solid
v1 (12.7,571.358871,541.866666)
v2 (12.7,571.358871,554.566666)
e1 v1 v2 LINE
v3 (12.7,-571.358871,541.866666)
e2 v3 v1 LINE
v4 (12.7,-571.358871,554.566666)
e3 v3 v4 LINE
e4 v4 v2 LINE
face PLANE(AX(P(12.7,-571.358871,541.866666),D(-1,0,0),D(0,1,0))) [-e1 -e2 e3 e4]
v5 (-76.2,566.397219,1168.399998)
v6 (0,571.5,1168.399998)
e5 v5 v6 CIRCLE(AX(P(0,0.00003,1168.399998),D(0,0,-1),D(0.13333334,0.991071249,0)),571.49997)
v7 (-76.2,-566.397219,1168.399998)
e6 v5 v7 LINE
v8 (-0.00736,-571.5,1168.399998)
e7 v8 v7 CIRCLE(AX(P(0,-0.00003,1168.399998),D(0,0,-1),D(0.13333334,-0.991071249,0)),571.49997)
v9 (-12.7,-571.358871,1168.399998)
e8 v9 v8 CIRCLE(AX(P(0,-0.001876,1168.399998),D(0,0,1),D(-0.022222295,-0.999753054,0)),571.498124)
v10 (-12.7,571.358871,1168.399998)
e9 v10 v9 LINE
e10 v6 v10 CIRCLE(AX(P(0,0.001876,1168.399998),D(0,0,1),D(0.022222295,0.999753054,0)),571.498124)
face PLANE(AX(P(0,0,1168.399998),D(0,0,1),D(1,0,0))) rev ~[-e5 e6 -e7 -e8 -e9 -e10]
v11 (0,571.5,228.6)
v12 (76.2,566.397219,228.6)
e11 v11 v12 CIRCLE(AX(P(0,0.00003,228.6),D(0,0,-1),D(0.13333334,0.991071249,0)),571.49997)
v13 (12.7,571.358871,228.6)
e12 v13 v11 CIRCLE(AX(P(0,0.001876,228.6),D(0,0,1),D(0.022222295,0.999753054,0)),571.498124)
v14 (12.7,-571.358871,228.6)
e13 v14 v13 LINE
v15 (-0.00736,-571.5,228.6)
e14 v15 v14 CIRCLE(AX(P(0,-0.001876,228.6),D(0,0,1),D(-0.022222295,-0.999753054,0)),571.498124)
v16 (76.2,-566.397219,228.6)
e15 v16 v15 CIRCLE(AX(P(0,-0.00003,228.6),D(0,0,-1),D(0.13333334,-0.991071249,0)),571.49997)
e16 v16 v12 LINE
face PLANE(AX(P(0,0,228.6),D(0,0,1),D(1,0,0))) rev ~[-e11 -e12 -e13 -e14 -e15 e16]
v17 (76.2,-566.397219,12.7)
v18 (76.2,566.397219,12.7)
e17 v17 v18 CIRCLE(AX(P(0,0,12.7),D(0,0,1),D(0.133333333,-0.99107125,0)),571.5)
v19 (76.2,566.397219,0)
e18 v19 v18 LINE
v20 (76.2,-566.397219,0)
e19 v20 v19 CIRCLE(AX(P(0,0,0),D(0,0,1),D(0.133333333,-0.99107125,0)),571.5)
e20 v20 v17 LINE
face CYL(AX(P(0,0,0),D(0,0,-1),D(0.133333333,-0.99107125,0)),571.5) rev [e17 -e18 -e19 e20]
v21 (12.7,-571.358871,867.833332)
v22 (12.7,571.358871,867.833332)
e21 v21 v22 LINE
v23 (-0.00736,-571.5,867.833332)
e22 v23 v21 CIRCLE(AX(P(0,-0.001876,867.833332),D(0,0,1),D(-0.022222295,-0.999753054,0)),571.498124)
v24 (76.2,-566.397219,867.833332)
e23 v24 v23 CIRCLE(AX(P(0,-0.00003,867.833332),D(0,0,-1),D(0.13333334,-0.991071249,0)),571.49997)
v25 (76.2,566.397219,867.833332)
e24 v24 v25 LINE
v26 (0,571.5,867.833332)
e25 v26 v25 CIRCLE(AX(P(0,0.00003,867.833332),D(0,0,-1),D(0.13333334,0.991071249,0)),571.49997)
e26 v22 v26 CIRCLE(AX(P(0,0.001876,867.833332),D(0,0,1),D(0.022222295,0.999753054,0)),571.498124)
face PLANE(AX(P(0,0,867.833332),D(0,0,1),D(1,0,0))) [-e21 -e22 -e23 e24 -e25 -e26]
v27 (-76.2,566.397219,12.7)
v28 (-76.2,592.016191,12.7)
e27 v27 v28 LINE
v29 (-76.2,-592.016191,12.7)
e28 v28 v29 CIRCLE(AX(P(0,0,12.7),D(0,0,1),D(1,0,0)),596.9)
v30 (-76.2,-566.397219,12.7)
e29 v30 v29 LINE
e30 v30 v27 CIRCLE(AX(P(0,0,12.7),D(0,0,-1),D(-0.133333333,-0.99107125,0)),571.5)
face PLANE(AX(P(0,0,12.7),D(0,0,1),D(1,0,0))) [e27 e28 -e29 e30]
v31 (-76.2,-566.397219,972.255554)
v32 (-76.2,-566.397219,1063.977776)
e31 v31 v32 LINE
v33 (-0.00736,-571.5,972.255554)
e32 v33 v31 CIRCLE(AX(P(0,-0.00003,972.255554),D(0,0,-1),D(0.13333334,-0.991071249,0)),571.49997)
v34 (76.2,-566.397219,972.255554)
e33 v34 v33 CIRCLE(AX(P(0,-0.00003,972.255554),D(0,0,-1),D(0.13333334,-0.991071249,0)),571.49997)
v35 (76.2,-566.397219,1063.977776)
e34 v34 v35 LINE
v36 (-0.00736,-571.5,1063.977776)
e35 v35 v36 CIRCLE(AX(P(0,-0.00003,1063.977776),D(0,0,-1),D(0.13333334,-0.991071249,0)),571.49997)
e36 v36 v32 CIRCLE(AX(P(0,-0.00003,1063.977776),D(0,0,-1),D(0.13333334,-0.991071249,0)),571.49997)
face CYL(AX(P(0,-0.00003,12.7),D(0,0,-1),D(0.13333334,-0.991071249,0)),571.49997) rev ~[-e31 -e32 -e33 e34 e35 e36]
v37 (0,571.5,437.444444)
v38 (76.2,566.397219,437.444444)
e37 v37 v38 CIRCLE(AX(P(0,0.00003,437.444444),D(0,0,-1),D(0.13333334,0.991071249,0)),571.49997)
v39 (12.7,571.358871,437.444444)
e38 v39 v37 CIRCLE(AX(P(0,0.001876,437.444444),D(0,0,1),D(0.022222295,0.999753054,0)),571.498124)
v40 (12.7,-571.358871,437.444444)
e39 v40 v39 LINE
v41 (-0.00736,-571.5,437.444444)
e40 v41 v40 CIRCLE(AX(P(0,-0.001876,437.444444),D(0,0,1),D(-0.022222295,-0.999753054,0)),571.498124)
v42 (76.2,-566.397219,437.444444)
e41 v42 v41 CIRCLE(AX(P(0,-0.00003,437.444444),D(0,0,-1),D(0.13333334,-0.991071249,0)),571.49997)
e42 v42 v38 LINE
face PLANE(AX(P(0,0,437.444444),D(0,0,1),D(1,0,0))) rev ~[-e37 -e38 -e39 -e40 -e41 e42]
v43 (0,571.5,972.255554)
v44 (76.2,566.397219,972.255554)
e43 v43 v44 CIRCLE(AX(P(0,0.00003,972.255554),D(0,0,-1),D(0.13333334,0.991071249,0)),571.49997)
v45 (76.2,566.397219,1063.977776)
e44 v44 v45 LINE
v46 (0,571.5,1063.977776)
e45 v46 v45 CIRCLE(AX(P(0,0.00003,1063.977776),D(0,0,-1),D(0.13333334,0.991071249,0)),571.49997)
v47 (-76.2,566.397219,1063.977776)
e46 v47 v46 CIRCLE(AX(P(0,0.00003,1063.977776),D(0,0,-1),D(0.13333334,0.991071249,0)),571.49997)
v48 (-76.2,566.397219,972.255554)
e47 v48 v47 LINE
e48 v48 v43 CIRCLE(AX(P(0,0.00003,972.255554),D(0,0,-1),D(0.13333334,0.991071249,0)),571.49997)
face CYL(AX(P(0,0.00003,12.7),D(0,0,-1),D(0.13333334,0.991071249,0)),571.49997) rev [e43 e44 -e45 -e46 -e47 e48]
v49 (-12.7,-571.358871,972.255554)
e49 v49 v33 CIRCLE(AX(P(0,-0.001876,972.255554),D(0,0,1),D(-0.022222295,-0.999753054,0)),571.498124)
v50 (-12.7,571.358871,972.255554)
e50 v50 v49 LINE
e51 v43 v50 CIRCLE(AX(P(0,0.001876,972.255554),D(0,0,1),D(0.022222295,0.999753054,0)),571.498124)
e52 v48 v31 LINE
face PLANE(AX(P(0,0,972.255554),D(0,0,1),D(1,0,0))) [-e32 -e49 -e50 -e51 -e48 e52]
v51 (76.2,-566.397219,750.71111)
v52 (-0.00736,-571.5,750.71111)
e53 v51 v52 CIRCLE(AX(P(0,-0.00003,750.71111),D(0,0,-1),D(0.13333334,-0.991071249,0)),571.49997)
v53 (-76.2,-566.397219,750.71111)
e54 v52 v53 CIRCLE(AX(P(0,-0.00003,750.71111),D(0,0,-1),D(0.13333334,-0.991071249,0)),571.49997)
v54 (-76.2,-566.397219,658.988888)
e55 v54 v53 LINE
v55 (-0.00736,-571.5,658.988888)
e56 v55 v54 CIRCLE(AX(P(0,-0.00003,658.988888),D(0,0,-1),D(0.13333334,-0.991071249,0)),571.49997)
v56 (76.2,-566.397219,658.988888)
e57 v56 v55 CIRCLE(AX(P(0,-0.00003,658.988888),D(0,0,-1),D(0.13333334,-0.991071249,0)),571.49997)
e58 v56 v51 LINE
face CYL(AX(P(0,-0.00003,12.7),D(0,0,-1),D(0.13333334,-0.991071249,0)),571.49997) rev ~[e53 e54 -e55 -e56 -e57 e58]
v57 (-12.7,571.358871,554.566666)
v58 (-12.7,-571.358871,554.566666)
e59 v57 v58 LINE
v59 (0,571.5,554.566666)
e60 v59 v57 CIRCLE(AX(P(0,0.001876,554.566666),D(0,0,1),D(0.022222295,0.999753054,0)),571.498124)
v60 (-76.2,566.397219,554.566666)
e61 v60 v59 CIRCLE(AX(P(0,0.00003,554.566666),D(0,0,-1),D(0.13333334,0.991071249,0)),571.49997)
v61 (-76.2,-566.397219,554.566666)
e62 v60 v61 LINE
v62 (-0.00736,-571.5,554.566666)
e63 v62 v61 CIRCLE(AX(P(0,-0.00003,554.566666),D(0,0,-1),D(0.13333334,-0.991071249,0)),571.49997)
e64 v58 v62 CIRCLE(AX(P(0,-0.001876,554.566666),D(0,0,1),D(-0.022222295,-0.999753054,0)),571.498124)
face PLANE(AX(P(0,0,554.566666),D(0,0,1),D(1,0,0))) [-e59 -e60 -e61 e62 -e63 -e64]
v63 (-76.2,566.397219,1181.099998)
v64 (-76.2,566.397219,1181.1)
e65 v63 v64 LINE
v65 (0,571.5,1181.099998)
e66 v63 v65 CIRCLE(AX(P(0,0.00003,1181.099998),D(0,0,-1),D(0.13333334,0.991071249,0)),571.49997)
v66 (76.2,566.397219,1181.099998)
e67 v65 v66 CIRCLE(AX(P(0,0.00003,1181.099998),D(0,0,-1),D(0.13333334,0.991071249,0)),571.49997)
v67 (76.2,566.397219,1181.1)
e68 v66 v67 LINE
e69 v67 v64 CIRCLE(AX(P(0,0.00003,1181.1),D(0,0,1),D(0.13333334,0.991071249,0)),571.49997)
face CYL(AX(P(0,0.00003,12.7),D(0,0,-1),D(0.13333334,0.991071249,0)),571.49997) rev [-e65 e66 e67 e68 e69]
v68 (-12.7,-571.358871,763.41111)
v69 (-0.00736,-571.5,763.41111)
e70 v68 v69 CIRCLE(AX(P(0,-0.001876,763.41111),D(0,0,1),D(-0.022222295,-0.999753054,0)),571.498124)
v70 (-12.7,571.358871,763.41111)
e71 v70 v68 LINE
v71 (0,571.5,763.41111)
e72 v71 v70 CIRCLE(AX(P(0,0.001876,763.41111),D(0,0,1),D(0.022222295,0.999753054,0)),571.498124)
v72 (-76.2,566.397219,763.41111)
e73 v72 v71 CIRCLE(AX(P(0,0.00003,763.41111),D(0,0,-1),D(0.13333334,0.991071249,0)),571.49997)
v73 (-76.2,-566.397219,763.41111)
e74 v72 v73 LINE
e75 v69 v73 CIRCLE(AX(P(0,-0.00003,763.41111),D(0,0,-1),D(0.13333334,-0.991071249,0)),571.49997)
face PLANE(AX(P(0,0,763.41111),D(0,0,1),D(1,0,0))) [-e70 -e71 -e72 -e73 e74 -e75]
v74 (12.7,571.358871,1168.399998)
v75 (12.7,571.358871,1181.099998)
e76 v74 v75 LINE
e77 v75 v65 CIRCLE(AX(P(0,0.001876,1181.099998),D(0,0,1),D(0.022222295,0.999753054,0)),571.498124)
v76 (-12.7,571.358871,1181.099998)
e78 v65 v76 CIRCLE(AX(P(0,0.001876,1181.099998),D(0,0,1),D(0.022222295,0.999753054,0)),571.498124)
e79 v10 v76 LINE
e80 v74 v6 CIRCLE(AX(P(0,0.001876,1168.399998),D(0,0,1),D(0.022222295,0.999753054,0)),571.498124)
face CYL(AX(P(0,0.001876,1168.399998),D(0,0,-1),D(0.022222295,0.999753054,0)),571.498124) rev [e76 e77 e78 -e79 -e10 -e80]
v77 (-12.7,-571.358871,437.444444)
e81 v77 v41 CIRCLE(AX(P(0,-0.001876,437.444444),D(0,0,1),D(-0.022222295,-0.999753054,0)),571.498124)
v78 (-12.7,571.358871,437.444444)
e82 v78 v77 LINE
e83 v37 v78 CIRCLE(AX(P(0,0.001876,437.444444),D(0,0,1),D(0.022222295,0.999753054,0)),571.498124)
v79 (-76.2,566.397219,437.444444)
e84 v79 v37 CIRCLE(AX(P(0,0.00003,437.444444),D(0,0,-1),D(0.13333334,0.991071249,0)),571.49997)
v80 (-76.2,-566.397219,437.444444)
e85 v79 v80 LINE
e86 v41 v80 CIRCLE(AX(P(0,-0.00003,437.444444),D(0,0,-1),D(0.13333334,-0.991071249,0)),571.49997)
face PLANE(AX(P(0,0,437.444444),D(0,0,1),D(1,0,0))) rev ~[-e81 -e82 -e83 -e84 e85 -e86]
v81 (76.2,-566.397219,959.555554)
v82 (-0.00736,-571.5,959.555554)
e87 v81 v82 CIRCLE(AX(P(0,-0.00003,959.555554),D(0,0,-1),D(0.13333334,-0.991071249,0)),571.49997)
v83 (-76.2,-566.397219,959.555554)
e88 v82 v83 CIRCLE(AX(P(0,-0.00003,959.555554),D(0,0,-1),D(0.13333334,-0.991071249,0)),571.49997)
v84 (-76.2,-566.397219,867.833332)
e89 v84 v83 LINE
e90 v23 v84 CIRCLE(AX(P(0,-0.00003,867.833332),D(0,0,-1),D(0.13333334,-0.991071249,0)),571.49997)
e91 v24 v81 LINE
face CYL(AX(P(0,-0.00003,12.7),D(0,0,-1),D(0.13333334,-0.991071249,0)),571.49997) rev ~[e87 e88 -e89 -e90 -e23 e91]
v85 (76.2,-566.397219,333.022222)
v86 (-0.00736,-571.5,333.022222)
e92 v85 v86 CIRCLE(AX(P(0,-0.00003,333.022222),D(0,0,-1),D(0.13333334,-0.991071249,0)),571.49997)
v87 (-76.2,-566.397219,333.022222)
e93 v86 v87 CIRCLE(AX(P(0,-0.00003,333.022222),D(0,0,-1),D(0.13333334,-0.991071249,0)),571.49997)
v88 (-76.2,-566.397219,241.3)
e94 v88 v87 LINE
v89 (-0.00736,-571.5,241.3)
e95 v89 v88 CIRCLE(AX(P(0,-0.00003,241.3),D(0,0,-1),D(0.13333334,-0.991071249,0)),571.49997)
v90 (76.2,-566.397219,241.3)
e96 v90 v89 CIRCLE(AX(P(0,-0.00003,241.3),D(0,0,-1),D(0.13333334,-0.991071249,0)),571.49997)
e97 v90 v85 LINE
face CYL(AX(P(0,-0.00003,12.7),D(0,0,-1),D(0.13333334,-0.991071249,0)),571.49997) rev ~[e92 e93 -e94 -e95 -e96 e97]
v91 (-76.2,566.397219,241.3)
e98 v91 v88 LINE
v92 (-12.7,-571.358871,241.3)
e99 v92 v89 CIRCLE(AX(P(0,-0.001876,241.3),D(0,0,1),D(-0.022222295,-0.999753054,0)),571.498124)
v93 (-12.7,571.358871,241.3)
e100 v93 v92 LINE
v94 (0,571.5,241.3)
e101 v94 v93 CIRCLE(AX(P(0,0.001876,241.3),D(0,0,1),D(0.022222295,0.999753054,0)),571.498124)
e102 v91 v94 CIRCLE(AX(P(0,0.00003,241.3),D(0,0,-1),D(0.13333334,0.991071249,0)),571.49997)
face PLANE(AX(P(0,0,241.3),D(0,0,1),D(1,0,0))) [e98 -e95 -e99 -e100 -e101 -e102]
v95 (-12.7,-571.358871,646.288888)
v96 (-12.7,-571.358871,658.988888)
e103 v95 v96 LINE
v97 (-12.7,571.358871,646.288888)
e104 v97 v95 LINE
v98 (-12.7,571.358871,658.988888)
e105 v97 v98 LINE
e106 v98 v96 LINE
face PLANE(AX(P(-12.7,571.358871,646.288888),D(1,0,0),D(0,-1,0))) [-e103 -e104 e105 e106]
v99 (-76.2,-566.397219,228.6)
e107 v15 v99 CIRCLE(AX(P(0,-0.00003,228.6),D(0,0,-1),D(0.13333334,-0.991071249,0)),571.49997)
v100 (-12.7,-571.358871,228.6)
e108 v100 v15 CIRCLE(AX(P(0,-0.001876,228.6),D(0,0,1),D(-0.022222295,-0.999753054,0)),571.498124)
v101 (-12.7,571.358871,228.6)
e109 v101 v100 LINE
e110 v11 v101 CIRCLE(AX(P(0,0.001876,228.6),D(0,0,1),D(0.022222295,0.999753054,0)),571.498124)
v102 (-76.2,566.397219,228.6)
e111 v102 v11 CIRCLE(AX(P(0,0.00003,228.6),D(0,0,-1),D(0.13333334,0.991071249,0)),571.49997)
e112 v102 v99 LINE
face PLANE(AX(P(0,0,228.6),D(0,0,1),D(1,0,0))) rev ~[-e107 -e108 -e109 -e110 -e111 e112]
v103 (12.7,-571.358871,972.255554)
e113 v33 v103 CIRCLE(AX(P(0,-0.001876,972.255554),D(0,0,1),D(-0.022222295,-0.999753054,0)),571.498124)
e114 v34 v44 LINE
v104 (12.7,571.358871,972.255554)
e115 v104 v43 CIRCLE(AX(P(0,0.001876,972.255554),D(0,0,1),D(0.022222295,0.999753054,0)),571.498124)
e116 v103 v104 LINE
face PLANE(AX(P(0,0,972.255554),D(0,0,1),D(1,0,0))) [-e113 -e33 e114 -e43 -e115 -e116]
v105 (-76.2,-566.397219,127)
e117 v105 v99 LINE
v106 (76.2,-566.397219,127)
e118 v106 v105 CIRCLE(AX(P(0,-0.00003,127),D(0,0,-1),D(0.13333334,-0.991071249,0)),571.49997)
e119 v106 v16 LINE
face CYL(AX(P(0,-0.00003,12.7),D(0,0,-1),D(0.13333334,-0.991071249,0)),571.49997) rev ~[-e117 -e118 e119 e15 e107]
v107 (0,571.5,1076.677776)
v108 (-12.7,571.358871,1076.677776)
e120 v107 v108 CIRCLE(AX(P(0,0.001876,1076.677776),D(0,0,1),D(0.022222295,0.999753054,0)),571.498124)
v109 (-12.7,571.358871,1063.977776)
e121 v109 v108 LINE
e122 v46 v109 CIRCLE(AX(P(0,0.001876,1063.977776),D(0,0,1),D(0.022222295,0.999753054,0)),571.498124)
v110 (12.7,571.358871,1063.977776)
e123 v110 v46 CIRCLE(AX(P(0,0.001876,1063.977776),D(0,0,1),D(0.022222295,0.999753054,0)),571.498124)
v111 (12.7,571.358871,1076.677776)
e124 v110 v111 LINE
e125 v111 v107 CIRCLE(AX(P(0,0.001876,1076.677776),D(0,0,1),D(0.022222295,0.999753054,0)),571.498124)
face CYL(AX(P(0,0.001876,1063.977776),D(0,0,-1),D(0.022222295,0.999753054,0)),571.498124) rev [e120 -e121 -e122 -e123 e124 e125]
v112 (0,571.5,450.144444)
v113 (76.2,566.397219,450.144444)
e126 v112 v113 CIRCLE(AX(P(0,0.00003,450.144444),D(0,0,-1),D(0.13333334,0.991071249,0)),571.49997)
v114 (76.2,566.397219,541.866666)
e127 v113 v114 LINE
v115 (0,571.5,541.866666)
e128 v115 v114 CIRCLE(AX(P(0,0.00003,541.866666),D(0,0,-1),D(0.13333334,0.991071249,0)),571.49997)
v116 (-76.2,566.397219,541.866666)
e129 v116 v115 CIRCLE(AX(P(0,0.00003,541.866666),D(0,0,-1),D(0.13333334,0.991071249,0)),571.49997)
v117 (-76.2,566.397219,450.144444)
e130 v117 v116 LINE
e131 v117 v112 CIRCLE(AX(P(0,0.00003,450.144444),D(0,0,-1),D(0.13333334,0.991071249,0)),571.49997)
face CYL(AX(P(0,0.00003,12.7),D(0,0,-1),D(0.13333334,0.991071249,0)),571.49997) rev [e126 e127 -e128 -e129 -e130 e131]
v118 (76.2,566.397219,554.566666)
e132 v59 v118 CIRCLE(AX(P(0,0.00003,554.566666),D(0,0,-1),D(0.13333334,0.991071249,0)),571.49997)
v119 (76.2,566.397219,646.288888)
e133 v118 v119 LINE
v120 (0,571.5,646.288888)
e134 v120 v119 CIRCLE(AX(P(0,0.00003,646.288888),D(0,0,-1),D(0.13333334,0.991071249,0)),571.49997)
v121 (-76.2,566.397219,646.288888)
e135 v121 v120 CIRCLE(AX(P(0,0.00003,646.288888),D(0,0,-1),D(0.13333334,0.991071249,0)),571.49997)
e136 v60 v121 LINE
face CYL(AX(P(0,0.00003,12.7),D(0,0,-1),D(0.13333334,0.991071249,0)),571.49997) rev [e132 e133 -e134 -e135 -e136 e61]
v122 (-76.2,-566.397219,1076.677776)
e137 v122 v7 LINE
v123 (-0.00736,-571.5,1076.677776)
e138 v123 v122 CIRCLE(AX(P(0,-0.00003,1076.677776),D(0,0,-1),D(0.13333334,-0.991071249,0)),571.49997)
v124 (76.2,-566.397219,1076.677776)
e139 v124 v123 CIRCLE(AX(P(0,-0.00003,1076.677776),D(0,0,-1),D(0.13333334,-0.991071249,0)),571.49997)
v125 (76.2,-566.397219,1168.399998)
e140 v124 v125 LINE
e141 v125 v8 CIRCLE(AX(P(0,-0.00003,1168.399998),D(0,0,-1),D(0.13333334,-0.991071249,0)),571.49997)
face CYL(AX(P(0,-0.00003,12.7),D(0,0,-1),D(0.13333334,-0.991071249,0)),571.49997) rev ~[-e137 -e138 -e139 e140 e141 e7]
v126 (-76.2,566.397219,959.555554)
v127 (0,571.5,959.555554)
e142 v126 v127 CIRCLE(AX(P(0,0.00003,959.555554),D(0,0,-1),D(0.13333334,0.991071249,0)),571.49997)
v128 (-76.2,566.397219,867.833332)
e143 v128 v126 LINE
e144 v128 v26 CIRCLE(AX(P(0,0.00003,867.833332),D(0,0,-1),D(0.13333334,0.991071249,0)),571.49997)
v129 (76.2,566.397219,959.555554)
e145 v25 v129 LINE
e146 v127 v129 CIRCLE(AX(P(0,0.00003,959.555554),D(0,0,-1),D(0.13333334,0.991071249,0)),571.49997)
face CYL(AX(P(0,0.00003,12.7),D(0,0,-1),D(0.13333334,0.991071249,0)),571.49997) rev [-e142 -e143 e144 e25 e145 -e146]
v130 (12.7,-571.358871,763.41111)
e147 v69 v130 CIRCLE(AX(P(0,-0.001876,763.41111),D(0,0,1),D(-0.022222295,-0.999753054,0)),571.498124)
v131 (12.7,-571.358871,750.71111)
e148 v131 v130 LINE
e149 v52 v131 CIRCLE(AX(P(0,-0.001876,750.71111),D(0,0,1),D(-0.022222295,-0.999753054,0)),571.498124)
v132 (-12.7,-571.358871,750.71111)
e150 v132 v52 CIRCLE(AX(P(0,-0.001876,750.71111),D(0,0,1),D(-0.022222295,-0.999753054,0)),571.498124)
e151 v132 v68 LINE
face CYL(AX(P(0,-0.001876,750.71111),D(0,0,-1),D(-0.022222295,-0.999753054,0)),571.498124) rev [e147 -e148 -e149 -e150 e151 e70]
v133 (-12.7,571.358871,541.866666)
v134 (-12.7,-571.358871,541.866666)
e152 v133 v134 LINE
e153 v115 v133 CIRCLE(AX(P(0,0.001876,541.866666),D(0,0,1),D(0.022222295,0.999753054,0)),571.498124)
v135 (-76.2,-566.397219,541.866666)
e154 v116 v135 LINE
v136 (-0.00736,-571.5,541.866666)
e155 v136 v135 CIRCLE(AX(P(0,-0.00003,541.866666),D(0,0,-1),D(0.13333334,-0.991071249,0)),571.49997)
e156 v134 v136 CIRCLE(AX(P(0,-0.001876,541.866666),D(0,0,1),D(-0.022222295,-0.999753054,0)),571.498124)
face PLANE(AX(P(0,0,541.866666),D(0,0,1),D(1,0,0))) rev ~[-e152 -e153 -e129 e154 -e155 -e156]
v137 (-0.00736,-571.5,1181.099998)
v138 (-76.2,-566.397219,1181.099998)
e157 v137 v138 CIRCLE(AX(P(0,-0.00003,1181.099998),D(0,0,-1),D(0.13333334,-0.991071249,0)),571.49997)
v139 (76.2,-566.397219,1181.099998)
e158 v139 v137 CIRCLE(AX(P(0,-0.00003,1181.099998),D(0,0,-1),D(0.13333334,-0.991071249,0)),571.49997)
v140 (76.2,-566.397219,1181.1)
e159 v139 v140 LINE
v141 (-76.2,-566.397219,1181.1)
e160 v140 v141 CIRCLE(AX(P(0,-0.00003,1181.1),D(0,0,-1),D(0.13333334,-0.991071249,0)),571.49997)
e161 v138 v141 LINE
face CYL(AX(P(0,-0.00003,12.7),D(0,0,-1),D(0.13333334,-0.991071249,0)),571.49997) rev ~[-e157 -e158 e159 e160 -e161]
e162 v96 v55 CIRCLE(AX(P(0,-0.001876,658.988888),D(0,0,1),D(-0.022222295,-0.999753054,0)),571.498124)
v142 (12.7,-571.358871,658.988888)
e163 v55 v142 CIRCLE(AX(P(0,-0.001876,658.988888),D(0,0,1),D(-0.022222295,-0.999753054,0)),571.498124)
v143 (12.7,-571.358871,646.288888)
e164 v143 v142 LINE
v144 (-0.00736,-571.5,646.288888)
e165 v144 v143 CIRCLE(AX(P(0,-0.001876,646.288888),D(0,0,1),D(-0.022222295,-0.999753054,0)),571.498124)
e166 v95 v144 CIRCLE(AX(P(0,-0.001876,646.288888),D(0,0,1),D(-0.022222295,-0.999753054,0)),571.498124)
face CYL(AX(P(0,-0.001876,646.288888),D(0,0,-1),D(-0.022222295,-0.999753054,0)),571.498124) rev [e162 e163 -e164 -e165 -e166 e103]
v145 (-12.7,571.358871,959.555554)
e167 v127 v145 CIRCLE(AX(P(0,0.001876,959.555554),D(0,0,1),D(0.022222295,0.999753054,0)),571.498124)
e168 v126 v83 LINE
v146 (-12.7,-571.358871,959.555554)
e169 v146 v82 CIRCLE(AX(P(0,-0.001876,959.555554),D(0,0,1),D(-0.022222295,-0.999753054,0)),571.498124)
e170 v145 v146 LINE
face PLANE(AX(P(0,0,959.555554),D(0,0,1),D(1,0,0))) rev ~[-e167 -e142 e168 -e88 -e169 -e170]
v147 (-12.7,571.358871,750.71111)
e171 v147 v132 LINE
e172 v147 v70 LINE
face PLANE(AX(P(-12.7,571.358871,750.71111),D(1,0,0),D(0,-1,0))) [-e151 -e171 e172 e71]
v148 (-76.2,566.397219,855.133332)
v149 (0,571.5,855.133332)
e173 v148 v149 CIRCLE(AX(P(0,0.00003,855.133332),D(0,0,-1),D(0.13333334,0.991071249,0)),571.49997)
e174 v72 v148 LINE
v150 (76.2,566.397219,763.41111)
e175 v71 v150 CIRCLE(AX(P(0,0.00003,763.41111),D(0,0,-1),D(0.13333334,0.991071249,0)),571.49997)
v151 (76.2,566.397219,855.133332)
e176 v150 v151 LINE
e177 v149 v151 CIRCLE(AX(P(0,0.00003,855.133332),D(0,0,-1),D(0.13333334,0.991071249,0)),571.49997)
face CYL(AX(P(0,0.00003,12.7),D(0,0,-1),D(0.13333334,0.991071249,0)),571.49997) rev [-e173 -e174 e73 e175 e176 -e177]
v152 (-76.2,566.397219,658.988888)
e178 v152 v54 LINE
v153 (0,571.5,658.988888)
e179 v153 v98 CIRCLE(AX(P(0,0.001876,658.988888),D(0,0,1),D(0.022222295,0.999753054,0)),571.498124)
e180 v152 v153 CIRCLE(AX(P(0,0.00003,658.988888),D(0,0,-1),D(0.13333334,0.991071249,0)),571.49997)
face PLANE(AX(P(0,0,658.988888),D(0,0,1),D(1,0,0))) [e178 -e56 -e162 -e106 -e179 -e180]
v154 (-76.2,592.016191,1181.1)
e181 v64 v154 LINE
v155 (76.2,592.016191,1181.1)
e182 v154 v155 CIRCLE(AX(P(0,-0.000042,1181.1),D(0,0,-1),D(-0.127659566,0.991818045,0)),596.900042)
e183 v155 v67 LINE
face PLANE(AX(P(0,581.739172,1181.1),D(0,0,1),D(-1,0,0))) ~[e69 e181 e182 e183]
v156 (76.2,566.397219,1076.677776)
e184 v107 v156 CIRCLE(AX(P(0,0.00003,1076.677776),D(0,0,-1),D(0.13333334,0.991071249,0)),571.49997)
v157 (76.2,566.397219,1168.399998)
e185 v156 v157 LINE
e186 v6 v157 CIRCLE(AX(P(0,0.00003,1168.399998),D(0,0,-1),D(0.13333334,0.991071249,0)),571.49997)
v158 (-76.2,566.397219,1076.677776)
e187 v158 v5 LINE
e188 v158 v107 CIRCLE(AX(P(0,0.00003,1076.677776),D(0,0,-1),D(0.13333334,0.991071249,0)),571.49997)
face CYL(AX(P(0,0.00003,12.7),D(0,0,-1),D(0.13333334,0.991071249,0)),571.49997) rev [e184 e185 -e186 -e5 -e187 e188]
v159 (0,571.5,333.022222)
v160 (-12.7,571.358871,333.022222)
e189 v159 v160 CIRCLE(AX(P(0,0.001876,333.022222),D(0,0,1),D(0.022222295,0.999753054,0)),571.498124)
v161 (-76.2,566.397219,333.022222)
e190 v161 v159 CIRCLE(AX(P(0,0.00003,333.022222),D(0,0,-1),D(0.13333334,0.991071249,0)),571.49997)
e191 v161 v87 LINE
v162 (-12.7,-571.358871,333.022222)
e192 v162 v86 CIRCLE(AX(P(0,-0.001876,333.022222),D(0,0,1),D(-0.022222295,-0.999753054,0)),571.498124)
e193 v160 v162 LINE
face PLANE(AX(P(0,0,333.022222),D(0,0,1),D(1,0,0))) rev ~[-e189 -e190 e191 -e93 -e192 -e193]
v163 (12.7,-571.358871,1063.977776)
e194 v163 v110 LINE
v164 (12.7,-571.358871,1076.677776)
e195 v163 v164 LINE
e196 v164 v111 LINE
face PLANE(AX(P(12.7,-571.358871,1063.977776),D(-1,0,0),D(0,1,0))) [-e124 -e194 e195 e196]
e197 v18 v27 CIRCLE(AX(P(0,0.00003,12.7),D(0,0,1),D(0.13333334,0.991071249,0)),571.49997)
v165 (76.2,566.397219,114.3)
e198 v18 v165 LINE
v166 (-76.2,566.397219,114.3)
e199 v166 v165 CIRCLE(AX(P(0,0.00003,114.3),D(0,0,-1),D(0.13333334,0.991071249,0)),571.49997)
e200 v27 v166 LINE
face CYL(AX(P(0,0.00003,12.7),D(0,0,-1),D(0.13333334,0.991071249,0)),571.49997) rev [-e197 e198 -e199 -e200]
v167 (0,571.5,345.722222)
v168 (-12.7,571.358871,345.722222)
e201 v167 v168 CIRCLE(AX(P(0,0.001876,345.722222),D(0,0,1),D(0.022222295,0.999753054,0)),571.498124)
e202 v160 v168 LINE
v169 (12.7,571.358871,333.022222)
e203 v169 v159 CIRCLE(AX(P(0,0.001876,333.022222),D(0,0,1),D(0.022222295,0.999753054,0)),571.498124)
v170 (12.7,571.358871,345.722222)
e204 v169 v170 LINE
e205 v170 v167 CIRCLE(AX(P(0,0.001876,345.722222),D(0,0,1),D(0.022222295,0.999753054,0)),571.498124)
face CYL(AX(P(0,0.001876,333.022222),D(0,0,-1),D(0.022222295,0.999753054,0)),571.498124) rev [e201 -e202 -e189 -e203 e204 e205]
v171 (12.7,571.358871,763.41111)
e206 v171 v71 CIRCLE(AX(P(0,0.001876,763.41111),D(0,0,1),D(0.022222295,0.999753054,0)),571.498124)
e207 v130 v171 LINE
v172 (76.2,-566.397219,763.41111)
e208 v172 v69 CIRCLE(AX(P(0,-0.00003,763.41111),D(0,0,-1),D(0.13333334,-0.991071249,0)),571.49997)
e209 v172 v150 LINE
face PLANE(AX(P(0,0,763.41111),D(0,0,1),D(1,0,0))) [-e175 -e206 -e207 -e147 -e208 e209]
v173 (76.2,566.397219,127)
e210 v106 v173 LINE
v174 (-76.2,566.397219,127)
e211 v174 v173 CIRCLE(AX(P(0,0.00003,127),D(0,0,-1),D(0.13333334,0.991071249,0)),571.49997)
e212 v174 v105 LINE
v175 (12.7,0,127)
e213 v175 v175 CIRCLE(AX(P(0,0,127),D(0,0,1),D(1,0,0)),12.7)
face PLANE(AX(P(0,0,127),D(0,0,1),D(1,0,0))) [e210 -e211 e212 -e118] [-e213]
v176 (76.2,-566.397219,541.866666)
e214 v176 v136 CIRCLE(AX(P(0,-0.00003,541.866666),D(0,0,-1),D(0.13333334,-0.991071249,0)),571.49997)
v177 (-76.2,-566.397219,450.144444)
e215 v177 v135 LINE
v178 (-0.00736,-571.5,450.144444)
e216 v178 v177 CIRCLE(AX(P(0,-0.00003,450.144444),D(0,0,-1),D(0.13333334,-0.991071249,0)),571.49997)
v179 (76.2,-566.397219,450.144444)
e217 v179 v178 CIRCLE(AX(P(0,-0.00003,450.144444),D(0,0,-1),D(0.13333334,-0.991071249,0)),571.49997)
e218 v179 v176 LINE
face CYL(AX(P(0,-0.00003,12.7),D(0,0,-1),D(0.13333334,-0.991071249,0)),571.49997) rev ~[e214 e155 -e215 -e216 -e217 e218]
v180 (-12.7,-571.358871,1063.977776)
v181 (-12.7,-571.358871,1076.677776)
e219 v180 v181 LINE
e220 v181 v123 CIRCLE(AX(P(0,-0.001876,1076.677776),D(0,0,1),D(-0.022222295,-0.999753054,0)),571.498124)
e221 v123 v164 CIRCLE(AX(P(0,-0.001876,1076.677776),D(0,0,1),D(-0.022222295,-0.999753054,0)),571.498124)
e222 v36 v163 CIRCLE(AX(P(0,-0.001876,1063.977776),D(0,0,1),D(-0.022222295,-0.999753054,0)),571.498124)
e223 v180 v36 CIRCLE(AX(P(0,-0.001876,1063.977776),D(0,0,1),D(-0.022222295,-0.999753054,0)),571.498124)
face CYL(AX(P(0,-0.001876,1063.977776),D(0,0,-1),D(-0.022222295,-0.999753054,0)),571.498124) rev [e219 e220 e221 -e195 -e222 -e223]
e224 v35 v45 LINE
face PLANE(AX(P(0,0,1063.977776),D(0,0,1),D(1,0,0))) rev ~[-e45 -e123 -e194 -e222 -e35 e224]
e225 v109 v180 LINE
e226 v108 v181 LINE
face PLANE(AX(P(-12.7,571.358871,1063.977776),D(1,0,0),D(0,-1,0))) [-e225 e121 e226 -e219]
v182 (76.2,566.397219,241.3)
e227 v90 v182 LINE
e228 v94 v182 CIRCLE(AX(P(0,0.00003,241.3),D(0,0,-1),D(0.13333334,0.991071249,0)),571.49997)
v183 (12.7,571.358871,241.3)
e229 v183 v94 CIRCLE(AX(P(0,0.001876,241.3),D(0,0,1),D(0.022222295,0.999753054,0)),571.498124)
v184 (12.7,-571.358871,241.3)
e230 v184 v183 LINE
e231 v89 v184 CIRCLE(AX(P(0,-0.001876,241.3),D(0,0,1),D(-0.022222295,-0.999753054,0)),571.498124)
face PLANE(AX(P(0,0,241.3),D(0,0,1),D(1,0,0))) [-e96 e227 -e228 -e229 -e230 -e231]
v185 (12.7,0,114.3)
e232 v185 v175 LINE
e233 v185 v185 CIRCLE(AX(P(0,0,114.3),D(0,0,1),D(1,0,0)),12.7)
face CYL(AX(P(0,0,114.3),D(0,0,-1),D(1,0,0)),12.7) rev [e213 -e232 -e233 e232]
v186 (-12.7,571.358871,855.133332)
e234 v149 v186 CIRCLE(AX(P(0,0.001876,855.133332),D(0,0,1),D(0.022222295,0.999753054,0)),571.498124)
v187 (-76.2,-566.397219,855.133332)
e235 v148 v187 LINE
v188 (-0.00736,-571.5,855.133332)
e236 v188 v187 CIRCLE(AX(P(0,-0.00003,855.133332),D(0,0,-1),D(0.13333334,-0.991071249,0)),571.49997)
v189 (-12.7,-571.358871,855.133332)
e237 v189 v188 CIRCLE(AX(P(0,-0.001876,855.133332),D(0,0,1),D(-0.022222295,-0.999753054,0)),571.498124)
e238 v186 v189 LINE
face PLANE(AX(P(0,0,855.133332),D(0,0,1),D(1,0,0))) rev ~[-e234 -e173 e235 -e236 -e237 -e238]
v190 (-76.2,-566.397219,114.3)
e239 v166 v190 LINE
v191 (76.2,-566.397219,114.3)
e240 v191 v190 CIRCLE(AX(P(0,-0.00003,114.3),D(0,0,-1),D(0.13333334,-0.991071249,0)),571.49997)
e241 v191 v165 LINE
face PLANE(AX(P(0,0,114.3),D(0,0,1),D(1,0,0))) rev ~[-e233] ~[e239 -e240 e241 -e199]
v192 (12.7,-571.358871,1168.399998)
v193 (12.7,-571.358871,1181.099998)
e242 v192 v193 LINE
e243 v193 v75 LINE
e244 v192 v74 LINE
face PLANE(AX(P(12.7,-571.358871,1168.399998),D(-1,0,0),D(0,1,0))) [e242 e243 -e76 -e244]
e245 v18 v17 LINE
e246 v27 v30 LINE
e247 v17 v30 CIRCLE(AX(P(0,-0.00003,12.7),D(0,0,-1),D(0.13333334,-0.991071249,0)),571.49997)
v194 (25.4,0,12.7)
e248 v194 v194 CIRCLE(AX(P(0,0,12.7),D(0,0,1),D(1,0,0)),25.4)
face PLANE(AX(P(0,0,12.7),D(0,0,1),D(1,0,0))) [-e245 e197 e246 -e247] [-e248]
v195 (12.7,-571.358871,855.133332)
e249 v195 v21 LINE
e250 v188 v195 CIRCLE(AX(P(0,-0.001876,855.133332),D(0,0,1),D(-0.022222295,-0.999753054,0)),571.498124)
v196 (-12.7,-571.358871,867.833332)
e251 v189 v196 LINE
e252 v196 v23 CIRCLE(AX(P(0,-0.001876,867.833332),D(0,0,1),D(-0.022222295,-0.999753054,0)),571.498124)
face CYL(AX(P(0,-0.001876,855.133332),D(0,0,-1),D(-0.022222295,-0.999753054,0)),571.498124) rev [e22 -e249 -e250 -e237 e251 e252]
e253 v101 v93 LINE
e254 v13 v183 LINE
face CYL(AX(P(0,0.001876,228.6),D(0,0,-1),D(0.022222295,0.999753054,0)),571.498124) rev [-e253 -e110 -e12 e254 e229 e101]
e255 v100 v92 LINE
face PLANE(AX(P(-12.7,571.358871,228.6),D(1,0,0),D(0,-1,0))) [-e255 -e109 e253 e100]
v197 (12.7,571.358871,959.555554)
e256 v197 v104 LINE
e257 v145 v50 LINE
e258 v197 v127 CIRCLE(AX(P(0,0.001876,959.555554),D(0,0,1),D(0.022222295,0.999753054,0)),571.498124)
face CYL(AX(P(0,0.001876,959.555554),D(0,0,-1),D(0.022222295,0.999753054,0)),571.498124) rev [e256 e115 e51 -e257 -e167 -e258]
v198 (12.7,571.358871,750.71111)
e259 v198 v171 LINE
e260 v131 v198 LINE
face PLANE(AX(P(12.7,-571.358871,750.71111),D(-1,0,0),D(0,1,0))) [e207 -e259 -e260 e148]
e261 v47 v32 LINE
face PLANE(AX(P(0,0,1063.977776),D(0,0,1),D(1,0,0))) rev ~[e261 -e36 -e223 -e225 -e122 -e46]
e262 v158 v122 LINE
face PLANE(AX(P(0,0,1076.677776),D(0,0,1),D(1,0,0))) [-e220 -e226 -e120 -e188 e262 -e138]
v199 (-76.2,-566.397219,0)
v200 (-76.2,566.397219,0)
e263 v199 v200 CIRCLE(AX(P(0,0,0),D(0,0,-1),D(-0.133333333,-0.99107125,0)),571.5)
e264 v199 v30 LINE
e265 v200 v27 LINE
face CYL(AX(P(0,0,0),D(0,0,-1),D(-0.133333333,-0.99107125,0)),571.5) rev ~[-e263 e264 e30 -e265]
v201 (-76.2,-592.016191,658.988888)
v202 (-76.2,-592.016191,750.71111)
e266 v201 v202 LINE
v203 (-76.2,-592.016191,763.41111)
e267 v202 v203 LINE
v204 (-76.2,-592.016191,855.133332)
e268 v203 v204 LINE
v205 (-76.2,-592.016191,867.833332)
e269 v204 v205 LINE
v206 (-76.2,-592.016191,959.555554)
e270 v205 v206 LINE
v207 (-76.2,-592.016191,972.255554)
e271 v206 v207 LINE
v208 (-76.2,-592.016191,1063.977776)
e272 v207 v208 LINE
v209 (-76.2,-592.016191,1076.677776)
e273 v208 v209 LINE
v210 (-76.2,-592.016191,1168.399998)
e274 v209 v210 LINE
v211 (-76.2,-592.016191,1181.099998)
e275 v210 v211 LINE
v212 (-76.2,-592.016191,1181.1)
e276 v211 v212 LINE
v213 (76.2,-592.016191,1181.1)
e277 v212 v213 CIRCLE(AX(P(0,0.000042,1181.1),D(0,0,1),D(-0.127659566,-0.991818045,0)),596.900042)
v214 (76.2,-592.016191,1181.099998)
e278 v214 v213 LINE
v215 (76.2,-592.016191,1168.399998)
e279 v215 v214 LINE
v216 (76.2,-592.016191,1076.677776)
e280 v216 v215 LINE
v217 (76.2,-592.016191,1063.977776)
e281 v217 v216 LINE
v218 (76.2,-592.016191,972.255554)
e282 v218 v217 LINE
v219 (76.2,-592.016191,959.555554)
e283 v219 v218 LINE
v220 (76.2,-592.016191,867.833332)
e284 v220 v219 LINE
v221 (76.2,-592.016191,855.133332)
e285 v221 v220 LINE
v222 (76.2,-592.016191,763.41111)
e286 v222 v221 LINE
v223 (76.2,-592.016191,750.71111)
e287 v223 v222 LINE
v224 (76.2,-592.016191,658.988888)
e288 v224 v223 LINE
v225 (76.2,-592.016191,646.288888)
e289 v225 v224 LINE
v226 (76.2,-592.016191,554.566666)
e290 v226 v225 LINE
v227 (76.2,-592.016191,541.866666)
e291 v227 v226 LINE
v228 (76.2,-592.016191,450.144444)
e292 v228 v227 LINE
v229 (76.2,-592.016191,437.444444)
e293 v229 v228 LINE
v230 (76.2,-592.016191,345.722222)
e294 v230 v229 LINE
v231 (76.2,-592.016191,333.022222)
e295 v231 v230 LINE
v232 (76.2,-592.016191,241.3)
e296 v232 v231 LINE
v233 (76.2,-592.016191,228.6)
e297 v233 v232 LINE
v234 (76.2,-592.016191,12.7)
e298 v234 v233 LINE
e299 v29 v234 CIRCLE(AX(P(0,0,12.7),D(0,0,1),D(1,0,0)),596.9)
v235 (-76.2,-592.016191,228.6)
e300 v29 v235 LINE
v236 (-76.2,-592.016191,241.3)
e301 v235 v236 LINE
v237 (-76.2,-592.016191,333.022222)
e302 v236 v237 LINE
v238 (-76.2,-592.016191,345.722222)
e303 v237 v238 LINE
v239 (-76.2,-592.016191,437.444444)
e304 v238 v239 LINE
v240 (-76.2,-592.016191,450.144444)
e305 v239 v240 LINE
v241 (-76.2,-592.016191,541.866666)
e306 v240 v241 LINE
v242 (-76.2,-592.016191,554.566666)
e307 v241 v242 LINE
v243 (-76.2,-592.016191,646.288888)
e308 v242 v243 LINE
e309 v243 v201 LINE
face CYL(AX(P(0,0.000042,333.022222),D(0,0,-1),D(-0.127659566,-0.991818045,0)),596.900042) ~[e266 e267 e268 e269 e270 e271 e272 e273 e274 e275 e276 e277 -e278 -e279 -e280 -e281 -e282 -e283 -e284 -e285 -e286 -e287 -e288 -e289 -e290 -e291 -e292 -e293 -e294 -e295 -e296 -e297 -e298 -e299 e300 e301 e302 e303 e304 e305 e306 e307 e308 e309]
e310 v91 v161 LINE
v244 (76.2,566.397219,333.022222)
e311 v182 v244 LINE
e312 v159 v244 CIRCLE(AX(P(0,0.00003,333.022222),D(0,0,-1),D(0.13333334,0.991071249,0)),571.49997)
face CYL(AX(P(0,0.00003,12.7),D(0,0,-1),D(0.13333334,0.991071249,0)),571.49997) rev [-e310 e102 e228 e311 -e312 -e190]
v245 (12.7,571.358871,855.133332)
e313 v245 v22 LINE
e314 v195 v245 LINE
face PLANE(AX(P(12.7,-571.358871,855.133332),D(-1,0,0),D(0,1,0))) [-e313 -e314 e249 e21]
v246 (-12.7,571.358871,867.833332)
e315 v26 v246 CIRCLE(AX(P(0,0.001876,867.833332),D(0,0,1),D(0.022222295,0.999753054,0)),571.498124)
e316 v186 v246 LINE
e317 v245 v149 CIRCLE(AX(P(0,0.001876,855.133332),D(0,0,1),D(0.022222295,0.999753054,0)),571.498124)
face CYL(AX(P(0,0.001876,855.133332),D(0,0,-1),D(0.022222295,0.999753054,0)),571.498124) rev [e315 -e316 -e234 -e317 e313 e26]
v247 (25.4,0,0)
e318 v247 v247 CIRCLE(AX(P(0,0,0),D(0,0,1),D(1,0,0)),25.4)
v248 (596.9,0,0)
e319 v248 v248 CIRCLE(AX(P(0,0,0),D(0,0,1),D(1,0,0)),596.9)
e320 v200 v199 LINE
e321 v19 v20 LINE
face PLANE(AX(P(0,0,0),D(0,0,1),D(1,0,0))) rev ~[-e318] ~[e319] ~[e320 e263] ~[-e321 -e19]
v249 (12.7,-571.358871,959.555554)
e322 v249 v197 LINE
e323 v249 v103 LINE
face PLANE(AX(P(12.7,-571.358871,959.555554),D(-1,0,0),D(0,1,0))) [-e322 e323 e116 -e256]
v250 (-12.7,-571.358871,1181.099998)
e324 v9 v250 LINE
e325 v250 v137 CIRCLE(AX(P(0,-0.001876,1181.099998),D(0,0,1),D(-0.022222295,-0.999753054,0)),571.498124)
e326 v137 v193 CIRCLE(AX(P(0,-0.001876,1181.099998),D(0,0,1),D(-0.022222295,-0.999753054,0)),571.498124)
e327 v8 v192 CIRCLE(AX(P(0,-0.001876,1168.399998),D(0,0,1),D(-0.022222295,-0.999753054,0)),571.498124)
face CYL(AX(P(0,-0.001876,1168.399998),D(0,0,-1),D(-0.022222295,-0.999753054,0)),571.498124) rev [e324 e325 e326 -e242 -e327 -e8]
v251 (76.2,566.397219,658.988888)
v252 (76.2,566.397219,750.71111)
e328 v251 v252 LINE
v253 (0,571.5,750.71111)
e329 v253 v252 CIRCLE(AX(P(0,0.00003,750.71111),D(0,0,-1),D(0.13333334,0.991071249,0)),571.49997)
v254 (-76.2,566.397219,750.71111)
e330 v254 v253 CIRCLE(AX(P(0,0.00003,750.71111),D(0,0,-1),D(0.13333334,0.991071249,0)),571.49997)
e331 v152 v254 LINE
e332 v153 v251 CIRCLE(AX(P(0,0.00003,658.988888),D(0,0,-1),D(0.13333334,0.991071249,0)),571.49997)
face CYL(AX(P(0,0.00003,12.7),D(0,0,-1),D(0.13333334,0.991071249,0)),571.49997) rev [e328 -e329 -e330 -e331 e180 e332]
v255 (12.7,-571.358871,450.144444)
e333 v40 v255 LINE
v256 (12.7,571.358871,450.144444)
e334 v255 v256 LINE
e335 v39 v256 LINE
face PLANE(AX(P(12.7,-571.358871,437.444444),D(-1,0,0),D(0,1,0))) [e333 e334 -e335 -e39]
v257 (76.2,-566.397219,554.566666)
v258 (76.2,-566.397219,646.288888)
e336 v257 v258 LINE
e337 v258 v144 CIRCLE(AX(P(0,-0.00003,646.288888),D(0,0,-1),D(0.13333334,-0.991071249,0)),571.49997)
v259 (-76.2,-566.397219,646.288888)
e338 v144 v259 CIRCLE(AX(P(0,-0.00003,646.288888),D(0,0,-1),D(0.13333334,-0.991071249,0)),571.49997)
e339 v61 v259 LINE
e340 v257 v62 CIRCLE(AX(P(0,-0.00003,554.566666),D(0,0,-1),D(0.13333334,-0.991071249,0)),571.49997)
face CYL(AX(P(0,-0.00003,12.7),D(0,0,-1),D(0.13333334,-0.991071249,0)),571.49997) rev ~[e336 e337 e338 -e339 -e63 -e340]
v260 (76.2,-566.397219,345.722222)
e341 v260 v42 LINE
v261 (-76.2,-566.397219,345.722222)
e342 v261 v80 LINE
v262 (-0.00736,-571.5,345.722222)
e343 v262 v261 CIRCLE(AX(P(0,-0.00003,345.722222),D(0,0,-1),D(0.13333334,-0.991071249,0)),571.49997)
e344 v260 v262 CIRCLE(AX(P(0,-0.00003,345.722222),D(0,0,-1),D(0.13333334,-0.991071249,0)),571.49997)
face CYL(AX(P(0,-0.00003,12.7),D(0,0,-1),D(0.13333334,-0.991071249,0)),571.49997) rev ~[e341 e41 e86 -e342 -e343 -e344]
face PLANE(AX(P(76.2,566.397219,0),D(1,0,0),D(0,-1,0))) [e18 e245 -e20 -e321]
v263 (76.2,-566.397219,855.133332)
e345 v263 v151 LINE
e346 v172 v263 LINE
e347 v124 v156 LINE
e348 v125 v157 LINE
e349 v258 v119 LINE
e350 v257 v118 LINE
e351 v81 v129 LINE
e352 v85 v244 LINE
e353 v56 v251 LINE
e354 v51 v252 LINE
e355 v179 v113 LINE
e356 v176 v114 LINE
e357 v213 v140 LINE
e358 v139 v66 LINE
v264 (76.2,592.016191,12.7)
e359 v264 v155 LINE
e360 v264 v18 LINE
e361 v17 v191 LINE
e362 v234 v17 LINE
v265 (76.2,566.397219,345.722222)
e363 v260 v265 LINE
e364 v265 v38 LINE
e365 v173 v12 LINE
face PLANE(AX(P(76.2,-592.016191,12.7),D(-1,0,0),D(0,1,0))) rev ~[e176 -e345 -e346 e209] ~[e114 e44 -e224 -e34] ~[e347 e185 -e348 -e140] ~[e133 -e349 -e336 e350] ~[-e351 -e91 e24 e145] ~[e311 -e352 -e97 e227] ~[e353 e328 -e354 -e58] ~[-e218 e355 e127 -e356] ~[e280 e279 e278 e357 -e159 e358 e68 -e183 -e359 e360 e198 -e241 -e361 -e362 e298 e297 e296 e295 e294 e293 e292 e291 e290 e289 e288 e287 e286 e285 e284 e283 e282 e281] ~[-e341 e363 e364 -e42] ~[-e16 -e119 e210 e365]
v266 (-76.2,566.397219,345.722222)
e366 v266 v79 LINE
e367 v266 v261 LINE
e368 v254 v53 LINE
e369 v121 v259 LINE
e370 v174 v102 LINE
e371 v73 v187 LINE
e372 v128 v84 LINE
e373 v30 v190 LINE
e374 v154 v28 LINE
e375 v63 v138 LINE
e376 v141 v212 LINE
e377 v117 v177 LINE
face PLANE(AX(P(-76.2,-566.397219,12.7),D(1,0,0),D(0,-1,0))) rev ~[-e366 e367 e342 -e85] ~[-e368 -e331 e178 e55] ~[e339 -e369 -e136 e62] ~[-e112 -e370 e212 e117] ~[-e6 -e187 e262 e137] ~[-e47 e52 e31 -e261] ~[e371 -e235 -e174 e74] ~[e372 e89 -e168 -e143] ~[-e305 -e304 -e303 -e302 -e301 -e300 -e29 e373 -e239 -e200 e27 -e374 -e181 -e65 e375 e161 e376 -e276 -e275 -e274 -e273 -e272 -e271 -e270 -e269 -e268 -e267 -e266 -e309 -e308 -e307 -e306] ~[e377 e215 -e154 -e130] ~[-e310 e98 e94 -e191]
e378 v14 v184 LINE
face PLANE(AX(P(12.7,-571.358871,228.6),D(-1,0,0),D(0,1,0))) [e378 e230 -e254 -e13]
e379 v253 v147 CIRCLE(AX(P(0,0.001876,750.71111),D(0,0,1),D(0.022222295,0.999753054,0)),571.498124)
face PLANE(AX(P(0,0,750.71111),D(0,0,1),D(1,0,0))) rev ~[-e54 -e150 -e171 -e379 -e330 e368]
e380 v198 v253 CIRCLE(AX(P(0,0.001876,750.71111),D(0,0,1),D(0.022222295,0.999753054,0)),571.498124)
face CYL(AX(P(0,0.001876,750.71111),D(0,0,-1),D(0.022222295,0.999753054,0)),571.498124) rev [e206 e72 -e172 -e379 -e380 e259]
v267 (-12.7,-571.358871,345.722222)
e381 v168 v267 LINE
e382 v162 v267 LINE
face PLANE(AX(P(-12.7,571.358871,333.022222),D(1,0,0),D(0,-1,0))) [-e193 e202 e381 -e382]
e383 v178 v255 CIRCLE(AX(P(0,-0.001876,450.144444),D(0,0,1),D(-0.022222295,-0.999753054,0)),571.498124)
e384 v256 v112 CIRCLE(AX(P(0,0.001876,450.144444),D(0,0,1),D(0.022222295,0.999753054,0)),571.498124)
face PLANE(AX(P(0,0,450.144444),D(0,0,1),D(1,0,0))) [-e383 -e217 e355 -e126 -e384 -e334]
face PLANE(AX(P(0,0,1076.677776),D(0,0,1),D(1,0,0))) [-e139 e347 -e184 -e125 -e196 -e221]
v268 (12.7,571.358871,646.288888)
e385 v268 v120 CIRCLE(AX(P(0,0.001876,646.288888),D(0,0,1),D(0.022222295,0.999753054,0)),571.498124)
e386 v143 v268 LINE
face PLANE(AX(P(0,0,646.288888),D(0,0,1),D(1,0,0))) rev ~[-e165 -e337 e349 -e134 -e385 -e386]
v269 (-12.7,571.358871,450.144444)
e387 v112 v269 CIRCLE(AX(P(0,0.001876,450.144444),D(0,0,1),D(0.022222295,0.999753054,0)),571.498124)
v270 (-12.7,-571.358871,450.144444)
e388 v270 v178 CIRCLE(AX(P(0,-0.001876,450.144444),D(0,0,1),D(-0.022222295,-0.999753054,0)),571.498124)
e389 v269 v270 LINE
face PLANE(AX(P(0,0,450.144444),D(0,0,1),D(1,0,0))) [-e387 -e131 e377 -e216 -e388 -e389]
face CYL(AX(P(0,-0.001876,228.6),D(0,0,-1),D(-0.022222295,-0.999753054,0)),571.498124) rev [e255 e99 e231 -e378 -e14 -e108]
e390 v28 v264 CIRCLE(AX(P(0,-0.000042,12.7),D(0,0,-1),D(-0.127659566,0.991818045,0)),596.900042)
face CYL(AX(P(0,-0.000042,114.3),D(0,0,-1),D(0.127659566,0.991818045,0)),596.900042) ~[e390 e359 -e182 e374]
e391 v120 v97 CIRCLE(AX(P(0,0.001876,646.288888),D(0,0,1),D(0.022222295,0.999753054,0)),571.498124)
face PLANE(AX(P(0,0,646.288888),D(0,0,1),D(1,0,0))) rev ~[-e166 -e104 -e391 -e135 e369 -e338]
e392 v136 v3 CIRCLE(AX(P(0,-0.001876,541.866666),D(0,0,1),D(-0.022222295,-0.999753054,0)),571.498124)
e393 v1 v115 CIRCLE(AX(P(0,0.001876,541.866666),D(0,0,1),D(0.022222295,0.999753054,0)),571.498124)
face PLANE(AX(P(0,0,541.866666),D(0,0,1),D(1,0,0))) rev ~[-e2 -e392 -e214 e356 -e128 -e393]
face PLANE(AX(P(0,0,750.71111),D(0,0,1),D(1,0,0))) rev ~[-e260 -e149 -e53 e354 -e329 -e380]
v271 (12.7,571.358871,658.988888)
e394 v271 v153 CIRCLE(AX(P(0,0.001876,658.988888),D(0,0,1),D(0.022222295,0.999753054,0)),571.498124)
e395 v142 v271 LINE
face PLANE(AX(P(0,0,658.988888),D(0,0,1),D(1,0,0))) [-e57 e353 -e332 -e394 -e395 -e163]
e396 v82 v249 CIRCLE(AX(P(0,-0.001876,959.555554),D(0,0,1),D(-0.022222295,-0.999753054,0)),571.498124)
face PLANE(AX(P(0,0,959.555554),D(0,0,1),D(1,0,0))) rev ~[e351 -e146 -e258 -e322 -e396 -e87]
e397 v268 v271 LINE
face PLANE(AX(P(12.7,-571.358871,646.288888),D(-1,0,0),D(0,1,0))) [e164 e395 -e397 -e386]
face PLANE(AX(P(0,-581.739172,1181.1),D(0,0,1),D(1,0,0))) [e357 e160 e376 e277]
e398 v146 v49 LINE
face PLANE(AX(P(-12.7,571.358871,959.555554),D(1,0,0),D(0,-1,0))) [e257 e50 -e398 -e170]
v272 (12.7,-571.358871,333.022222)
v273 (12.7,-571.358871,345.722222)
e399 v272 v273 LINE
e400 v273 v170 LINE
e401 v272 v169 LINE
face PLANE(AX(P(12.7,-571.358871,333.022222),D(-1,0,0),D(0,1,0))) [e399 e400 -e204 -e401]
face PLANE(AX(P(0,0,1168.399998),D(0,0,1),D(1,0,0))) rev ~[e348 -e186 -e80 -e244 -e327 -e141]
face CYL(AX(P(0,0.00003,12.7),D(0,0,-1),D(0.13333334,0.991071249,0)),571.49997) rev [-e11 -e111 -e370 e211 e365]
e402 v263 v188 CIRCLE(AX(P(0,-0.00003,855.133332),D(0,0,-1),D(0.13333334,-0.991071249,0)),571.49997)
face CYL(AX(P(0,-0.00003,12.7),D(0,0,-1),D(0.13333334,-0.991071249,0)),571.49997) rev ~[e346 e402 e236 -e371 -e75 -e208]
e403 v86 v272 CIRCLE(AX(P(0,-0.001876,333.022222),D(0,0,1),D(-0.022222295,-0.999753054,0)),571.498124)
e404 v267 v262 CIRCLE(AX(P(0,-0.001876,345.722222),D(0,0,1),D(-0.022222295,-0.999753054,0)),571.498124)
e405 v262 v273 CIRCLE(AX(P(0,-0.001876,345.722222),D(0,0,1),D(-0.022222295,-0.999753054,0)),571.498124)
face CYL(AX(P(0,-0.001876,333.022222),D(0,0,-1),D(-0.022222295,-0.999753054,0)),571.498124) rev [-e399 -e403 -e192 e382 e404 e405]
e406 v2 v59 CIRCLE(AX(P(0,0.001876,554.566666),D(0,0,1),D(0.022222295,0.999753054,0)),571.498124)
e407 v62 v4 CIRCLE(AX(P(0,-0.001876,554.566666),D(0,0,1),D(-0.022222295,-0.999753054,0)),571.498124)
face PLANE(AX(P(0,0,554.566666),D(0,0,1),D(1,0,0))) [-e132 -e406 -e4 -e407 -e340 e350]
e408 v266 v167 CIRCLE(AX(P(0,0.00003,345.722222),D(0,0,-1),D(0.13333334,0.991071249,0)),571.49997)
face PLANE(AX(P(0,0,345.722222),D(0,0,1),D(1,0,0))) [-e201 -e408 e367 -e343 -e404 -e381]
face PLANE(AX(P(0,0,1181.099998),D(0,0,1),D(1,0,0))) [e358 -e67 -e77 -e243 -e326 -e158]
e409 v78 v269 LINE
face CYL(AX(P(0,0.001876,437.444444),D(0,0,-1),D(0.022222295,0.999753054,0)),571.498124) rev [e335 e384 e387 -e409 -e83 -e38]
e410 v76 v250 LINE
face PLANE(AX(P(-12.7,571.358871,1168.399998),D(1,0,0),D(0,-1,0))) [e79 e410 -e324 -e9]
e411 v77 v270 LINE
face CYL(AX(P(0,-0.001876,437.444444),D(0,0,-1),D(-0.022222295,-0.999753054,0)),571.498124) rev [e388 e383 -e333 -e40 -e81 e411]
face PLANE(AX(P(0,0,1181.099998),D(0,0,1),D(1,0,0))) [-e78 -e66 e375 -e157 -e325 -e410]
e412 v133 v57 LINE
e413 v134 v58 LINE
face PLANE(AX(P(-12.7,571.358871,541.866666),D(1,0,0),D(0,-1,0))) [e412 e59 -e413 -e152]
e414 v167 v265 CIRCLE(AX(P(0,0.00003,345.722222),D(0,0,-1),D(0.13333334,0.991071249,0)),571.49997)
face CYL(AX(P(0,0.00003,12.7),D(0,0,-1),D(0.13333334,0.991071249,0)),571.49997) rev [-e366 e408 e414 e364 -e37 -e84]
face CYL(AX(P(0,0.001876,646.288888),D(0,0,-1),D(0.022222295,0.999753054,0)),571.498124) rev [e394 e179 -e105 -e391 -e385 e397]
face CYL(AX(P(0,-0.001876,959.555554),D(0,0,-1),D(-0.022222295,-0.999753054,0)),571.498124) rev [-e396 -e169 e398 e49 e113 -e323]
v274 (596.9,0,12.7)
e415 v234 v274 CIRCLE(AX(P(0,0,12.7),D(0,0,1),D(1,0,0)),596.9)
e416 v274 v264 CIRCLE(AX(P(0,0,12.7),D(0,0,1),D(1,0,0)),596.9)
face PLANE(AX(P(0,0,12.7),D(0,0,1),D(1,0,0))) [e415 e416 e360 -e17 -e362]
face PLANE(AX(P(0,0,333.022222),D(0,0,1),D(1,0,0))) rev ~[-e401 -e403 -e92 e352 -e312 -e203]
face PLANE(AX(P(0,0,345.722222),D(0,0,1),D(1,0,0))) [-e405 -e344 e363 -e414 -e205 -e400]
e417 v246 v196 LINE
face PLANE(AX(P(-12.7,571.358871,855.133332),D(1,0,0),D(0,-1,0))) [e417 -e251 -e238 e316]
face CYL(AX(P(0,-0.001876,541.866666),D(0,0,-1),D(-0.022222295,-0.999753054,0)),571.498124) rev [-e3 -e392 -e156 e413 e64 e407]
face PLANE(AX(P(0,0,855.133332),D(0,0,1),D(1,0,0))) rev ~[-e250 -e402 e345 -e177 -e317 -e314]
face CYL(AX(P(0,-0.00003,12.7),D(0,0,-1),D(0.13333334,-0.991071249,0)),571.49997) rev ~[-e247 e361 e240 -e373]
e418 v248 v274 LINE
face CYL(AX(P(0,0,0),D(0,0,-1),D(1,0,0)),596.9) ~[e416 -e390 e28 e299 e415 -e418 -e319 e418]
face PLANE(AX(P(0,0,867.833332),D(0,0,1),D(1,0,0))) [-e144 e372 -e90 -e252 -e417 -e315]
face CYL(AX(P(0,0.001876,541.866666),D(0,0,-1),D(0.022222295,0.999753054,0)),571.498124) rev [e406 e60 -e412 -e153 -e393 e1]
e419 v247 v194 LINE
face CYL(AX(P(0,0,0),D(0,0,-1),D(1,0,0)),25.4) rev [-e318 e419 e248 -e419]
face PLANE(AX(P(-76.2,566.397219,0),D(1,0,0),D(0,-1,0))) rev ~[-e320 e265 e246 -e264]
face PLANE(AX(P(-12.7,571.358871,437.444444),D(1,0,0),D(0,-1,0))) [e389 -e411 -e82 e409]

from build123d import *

# Parameters (mm, degrees)
SKETCH1_R           = 596.9
SKETCH1_R_2         = 25.4
BOSS_EXTRUDE1_DEPTH = 12.7
BOSS_EXTRUDE2_DEPTH = 1168.4
SKETCH3_R           = 12.7
BOSS_EXTRUDE3_DEPTH = 12.7
BOSS_EXTRUDE4_DEPTH = 12.7
LPATTERN1_COUNT     = 10
LPATTERN1_PITCH     = 104.422222


with BuildPart() as part:
    # Sketch1 → Boss-Extrude1 (new body)
    with BuildSketch(Plane.XY):
        Circle(SKETCH1_R)
        Circle(SKETCH1_R_2, mode=Mode.SUBTRACT)
        with BuildLine():
            Line((76.2, 566.397219), (76.2, -566.397219))
            ThreePointArc((76.2, -566.397219), (571.5, 0), (76.2, 566.397219))
        make_face(mode=Mode.SUBTRACT)
        with BuildLine():
            Line((-76.2, 566.397219), (-76.2, -566.397219))
            ThreePointArc((-76.2, -566.397219), (-571.5, 0), (-76.2, 566.397219))
        make_face(mode=Mode.SUBTRACT)
    extrude(amount=BOSS_EXTRUDE1_DEPTH)

    # Sketch2 → Boss-Extrude2 (add)
    with BuildSketch(Plane.XY.offset(12.7)):
        with BuildLine():
            Line((-76.2, -566.397219), (-76.2, -592.016191))
            ThreePointArc((-76.2, -592.016191), (0, -596.9), (76.2, -592.016191))
            Line((76.2, -592.016191), (76.2, -566.397219))
            ThreePointArc((76.2, -566.397219), (0, -571.5), (-76.2, -566.397219))
        make_face()
    boss_extrude2 = extrude(amount=BOSS_EXTRUDE2_DEPTH)

    # Mirror1: Boss-Extrude2 across plane
    add(boss_extrude2.mirror(Plane.ZX))

    # Sketch3 → Boss-Extrude3 (add)
    with BuildSketch(Plane.XY.offset(114.3)):
        with BuildLine():
            Line((76.2, -592.016191), (76.2, 592.016191))
            ThreePointArc((76.2, 592.016191), (0, 596.9), (-76.2, 592.016191))
            Line((-76.2, 592.016191), (-76.2, -592.016191))
            ThreePointArc((-76.2, -592.016191), (0, -596.9), (76.2, -592.016191))
        make_face()
        Circle(SKETCH3_R, mode=Mode.SUBTRACT)
    extrude(amount=BOSS_EXTRUDE3_DEPTH)

    # Sketch4 → Boss-Extrude4 (add)
    with BuildSketch(Plane.XY.offset(228.6)):
        with BuildLine():
            Line((76.2, -592.016191), (76.2, 592.016191))
            ThreePointArc((76.2, 592.016191), (0, 596.9), (-76.2, 592.016191))
            Line((-76.2, 592.016191), (-76.2, -592.016191))
            ThreePointArc((-76.2, -592.016191), (0, -596.9), (76.2, -592.016191))
        make_face()
        with BuildLine():
            Line((12.7, -571.358871), (12.7, 571.358871))
            ThreePointArc((12.7, 571.358871), (0, 571.5), (-12.7, 571.358871))
            Line((-12.7, 571.358871), (-12.7, -571.358871))
            ThreePointArc((-12.7, -571.358871), (0, -571.5), (12.7, -571.358871))
        make_face(mode=Mode.SUBTRACT)
    boss_extrude4 = extrude(amount=BOSS_EXTRUDE4_DEPTH)

    # LPattern1: Boss-Extrude4 ×10
    with Locations(*[(0, 0, i * LPATTERN1_PITCH) for i in range(1, LPATTERN1_COUNT)]):
        add(boss_extrude4)


solid = part.part
